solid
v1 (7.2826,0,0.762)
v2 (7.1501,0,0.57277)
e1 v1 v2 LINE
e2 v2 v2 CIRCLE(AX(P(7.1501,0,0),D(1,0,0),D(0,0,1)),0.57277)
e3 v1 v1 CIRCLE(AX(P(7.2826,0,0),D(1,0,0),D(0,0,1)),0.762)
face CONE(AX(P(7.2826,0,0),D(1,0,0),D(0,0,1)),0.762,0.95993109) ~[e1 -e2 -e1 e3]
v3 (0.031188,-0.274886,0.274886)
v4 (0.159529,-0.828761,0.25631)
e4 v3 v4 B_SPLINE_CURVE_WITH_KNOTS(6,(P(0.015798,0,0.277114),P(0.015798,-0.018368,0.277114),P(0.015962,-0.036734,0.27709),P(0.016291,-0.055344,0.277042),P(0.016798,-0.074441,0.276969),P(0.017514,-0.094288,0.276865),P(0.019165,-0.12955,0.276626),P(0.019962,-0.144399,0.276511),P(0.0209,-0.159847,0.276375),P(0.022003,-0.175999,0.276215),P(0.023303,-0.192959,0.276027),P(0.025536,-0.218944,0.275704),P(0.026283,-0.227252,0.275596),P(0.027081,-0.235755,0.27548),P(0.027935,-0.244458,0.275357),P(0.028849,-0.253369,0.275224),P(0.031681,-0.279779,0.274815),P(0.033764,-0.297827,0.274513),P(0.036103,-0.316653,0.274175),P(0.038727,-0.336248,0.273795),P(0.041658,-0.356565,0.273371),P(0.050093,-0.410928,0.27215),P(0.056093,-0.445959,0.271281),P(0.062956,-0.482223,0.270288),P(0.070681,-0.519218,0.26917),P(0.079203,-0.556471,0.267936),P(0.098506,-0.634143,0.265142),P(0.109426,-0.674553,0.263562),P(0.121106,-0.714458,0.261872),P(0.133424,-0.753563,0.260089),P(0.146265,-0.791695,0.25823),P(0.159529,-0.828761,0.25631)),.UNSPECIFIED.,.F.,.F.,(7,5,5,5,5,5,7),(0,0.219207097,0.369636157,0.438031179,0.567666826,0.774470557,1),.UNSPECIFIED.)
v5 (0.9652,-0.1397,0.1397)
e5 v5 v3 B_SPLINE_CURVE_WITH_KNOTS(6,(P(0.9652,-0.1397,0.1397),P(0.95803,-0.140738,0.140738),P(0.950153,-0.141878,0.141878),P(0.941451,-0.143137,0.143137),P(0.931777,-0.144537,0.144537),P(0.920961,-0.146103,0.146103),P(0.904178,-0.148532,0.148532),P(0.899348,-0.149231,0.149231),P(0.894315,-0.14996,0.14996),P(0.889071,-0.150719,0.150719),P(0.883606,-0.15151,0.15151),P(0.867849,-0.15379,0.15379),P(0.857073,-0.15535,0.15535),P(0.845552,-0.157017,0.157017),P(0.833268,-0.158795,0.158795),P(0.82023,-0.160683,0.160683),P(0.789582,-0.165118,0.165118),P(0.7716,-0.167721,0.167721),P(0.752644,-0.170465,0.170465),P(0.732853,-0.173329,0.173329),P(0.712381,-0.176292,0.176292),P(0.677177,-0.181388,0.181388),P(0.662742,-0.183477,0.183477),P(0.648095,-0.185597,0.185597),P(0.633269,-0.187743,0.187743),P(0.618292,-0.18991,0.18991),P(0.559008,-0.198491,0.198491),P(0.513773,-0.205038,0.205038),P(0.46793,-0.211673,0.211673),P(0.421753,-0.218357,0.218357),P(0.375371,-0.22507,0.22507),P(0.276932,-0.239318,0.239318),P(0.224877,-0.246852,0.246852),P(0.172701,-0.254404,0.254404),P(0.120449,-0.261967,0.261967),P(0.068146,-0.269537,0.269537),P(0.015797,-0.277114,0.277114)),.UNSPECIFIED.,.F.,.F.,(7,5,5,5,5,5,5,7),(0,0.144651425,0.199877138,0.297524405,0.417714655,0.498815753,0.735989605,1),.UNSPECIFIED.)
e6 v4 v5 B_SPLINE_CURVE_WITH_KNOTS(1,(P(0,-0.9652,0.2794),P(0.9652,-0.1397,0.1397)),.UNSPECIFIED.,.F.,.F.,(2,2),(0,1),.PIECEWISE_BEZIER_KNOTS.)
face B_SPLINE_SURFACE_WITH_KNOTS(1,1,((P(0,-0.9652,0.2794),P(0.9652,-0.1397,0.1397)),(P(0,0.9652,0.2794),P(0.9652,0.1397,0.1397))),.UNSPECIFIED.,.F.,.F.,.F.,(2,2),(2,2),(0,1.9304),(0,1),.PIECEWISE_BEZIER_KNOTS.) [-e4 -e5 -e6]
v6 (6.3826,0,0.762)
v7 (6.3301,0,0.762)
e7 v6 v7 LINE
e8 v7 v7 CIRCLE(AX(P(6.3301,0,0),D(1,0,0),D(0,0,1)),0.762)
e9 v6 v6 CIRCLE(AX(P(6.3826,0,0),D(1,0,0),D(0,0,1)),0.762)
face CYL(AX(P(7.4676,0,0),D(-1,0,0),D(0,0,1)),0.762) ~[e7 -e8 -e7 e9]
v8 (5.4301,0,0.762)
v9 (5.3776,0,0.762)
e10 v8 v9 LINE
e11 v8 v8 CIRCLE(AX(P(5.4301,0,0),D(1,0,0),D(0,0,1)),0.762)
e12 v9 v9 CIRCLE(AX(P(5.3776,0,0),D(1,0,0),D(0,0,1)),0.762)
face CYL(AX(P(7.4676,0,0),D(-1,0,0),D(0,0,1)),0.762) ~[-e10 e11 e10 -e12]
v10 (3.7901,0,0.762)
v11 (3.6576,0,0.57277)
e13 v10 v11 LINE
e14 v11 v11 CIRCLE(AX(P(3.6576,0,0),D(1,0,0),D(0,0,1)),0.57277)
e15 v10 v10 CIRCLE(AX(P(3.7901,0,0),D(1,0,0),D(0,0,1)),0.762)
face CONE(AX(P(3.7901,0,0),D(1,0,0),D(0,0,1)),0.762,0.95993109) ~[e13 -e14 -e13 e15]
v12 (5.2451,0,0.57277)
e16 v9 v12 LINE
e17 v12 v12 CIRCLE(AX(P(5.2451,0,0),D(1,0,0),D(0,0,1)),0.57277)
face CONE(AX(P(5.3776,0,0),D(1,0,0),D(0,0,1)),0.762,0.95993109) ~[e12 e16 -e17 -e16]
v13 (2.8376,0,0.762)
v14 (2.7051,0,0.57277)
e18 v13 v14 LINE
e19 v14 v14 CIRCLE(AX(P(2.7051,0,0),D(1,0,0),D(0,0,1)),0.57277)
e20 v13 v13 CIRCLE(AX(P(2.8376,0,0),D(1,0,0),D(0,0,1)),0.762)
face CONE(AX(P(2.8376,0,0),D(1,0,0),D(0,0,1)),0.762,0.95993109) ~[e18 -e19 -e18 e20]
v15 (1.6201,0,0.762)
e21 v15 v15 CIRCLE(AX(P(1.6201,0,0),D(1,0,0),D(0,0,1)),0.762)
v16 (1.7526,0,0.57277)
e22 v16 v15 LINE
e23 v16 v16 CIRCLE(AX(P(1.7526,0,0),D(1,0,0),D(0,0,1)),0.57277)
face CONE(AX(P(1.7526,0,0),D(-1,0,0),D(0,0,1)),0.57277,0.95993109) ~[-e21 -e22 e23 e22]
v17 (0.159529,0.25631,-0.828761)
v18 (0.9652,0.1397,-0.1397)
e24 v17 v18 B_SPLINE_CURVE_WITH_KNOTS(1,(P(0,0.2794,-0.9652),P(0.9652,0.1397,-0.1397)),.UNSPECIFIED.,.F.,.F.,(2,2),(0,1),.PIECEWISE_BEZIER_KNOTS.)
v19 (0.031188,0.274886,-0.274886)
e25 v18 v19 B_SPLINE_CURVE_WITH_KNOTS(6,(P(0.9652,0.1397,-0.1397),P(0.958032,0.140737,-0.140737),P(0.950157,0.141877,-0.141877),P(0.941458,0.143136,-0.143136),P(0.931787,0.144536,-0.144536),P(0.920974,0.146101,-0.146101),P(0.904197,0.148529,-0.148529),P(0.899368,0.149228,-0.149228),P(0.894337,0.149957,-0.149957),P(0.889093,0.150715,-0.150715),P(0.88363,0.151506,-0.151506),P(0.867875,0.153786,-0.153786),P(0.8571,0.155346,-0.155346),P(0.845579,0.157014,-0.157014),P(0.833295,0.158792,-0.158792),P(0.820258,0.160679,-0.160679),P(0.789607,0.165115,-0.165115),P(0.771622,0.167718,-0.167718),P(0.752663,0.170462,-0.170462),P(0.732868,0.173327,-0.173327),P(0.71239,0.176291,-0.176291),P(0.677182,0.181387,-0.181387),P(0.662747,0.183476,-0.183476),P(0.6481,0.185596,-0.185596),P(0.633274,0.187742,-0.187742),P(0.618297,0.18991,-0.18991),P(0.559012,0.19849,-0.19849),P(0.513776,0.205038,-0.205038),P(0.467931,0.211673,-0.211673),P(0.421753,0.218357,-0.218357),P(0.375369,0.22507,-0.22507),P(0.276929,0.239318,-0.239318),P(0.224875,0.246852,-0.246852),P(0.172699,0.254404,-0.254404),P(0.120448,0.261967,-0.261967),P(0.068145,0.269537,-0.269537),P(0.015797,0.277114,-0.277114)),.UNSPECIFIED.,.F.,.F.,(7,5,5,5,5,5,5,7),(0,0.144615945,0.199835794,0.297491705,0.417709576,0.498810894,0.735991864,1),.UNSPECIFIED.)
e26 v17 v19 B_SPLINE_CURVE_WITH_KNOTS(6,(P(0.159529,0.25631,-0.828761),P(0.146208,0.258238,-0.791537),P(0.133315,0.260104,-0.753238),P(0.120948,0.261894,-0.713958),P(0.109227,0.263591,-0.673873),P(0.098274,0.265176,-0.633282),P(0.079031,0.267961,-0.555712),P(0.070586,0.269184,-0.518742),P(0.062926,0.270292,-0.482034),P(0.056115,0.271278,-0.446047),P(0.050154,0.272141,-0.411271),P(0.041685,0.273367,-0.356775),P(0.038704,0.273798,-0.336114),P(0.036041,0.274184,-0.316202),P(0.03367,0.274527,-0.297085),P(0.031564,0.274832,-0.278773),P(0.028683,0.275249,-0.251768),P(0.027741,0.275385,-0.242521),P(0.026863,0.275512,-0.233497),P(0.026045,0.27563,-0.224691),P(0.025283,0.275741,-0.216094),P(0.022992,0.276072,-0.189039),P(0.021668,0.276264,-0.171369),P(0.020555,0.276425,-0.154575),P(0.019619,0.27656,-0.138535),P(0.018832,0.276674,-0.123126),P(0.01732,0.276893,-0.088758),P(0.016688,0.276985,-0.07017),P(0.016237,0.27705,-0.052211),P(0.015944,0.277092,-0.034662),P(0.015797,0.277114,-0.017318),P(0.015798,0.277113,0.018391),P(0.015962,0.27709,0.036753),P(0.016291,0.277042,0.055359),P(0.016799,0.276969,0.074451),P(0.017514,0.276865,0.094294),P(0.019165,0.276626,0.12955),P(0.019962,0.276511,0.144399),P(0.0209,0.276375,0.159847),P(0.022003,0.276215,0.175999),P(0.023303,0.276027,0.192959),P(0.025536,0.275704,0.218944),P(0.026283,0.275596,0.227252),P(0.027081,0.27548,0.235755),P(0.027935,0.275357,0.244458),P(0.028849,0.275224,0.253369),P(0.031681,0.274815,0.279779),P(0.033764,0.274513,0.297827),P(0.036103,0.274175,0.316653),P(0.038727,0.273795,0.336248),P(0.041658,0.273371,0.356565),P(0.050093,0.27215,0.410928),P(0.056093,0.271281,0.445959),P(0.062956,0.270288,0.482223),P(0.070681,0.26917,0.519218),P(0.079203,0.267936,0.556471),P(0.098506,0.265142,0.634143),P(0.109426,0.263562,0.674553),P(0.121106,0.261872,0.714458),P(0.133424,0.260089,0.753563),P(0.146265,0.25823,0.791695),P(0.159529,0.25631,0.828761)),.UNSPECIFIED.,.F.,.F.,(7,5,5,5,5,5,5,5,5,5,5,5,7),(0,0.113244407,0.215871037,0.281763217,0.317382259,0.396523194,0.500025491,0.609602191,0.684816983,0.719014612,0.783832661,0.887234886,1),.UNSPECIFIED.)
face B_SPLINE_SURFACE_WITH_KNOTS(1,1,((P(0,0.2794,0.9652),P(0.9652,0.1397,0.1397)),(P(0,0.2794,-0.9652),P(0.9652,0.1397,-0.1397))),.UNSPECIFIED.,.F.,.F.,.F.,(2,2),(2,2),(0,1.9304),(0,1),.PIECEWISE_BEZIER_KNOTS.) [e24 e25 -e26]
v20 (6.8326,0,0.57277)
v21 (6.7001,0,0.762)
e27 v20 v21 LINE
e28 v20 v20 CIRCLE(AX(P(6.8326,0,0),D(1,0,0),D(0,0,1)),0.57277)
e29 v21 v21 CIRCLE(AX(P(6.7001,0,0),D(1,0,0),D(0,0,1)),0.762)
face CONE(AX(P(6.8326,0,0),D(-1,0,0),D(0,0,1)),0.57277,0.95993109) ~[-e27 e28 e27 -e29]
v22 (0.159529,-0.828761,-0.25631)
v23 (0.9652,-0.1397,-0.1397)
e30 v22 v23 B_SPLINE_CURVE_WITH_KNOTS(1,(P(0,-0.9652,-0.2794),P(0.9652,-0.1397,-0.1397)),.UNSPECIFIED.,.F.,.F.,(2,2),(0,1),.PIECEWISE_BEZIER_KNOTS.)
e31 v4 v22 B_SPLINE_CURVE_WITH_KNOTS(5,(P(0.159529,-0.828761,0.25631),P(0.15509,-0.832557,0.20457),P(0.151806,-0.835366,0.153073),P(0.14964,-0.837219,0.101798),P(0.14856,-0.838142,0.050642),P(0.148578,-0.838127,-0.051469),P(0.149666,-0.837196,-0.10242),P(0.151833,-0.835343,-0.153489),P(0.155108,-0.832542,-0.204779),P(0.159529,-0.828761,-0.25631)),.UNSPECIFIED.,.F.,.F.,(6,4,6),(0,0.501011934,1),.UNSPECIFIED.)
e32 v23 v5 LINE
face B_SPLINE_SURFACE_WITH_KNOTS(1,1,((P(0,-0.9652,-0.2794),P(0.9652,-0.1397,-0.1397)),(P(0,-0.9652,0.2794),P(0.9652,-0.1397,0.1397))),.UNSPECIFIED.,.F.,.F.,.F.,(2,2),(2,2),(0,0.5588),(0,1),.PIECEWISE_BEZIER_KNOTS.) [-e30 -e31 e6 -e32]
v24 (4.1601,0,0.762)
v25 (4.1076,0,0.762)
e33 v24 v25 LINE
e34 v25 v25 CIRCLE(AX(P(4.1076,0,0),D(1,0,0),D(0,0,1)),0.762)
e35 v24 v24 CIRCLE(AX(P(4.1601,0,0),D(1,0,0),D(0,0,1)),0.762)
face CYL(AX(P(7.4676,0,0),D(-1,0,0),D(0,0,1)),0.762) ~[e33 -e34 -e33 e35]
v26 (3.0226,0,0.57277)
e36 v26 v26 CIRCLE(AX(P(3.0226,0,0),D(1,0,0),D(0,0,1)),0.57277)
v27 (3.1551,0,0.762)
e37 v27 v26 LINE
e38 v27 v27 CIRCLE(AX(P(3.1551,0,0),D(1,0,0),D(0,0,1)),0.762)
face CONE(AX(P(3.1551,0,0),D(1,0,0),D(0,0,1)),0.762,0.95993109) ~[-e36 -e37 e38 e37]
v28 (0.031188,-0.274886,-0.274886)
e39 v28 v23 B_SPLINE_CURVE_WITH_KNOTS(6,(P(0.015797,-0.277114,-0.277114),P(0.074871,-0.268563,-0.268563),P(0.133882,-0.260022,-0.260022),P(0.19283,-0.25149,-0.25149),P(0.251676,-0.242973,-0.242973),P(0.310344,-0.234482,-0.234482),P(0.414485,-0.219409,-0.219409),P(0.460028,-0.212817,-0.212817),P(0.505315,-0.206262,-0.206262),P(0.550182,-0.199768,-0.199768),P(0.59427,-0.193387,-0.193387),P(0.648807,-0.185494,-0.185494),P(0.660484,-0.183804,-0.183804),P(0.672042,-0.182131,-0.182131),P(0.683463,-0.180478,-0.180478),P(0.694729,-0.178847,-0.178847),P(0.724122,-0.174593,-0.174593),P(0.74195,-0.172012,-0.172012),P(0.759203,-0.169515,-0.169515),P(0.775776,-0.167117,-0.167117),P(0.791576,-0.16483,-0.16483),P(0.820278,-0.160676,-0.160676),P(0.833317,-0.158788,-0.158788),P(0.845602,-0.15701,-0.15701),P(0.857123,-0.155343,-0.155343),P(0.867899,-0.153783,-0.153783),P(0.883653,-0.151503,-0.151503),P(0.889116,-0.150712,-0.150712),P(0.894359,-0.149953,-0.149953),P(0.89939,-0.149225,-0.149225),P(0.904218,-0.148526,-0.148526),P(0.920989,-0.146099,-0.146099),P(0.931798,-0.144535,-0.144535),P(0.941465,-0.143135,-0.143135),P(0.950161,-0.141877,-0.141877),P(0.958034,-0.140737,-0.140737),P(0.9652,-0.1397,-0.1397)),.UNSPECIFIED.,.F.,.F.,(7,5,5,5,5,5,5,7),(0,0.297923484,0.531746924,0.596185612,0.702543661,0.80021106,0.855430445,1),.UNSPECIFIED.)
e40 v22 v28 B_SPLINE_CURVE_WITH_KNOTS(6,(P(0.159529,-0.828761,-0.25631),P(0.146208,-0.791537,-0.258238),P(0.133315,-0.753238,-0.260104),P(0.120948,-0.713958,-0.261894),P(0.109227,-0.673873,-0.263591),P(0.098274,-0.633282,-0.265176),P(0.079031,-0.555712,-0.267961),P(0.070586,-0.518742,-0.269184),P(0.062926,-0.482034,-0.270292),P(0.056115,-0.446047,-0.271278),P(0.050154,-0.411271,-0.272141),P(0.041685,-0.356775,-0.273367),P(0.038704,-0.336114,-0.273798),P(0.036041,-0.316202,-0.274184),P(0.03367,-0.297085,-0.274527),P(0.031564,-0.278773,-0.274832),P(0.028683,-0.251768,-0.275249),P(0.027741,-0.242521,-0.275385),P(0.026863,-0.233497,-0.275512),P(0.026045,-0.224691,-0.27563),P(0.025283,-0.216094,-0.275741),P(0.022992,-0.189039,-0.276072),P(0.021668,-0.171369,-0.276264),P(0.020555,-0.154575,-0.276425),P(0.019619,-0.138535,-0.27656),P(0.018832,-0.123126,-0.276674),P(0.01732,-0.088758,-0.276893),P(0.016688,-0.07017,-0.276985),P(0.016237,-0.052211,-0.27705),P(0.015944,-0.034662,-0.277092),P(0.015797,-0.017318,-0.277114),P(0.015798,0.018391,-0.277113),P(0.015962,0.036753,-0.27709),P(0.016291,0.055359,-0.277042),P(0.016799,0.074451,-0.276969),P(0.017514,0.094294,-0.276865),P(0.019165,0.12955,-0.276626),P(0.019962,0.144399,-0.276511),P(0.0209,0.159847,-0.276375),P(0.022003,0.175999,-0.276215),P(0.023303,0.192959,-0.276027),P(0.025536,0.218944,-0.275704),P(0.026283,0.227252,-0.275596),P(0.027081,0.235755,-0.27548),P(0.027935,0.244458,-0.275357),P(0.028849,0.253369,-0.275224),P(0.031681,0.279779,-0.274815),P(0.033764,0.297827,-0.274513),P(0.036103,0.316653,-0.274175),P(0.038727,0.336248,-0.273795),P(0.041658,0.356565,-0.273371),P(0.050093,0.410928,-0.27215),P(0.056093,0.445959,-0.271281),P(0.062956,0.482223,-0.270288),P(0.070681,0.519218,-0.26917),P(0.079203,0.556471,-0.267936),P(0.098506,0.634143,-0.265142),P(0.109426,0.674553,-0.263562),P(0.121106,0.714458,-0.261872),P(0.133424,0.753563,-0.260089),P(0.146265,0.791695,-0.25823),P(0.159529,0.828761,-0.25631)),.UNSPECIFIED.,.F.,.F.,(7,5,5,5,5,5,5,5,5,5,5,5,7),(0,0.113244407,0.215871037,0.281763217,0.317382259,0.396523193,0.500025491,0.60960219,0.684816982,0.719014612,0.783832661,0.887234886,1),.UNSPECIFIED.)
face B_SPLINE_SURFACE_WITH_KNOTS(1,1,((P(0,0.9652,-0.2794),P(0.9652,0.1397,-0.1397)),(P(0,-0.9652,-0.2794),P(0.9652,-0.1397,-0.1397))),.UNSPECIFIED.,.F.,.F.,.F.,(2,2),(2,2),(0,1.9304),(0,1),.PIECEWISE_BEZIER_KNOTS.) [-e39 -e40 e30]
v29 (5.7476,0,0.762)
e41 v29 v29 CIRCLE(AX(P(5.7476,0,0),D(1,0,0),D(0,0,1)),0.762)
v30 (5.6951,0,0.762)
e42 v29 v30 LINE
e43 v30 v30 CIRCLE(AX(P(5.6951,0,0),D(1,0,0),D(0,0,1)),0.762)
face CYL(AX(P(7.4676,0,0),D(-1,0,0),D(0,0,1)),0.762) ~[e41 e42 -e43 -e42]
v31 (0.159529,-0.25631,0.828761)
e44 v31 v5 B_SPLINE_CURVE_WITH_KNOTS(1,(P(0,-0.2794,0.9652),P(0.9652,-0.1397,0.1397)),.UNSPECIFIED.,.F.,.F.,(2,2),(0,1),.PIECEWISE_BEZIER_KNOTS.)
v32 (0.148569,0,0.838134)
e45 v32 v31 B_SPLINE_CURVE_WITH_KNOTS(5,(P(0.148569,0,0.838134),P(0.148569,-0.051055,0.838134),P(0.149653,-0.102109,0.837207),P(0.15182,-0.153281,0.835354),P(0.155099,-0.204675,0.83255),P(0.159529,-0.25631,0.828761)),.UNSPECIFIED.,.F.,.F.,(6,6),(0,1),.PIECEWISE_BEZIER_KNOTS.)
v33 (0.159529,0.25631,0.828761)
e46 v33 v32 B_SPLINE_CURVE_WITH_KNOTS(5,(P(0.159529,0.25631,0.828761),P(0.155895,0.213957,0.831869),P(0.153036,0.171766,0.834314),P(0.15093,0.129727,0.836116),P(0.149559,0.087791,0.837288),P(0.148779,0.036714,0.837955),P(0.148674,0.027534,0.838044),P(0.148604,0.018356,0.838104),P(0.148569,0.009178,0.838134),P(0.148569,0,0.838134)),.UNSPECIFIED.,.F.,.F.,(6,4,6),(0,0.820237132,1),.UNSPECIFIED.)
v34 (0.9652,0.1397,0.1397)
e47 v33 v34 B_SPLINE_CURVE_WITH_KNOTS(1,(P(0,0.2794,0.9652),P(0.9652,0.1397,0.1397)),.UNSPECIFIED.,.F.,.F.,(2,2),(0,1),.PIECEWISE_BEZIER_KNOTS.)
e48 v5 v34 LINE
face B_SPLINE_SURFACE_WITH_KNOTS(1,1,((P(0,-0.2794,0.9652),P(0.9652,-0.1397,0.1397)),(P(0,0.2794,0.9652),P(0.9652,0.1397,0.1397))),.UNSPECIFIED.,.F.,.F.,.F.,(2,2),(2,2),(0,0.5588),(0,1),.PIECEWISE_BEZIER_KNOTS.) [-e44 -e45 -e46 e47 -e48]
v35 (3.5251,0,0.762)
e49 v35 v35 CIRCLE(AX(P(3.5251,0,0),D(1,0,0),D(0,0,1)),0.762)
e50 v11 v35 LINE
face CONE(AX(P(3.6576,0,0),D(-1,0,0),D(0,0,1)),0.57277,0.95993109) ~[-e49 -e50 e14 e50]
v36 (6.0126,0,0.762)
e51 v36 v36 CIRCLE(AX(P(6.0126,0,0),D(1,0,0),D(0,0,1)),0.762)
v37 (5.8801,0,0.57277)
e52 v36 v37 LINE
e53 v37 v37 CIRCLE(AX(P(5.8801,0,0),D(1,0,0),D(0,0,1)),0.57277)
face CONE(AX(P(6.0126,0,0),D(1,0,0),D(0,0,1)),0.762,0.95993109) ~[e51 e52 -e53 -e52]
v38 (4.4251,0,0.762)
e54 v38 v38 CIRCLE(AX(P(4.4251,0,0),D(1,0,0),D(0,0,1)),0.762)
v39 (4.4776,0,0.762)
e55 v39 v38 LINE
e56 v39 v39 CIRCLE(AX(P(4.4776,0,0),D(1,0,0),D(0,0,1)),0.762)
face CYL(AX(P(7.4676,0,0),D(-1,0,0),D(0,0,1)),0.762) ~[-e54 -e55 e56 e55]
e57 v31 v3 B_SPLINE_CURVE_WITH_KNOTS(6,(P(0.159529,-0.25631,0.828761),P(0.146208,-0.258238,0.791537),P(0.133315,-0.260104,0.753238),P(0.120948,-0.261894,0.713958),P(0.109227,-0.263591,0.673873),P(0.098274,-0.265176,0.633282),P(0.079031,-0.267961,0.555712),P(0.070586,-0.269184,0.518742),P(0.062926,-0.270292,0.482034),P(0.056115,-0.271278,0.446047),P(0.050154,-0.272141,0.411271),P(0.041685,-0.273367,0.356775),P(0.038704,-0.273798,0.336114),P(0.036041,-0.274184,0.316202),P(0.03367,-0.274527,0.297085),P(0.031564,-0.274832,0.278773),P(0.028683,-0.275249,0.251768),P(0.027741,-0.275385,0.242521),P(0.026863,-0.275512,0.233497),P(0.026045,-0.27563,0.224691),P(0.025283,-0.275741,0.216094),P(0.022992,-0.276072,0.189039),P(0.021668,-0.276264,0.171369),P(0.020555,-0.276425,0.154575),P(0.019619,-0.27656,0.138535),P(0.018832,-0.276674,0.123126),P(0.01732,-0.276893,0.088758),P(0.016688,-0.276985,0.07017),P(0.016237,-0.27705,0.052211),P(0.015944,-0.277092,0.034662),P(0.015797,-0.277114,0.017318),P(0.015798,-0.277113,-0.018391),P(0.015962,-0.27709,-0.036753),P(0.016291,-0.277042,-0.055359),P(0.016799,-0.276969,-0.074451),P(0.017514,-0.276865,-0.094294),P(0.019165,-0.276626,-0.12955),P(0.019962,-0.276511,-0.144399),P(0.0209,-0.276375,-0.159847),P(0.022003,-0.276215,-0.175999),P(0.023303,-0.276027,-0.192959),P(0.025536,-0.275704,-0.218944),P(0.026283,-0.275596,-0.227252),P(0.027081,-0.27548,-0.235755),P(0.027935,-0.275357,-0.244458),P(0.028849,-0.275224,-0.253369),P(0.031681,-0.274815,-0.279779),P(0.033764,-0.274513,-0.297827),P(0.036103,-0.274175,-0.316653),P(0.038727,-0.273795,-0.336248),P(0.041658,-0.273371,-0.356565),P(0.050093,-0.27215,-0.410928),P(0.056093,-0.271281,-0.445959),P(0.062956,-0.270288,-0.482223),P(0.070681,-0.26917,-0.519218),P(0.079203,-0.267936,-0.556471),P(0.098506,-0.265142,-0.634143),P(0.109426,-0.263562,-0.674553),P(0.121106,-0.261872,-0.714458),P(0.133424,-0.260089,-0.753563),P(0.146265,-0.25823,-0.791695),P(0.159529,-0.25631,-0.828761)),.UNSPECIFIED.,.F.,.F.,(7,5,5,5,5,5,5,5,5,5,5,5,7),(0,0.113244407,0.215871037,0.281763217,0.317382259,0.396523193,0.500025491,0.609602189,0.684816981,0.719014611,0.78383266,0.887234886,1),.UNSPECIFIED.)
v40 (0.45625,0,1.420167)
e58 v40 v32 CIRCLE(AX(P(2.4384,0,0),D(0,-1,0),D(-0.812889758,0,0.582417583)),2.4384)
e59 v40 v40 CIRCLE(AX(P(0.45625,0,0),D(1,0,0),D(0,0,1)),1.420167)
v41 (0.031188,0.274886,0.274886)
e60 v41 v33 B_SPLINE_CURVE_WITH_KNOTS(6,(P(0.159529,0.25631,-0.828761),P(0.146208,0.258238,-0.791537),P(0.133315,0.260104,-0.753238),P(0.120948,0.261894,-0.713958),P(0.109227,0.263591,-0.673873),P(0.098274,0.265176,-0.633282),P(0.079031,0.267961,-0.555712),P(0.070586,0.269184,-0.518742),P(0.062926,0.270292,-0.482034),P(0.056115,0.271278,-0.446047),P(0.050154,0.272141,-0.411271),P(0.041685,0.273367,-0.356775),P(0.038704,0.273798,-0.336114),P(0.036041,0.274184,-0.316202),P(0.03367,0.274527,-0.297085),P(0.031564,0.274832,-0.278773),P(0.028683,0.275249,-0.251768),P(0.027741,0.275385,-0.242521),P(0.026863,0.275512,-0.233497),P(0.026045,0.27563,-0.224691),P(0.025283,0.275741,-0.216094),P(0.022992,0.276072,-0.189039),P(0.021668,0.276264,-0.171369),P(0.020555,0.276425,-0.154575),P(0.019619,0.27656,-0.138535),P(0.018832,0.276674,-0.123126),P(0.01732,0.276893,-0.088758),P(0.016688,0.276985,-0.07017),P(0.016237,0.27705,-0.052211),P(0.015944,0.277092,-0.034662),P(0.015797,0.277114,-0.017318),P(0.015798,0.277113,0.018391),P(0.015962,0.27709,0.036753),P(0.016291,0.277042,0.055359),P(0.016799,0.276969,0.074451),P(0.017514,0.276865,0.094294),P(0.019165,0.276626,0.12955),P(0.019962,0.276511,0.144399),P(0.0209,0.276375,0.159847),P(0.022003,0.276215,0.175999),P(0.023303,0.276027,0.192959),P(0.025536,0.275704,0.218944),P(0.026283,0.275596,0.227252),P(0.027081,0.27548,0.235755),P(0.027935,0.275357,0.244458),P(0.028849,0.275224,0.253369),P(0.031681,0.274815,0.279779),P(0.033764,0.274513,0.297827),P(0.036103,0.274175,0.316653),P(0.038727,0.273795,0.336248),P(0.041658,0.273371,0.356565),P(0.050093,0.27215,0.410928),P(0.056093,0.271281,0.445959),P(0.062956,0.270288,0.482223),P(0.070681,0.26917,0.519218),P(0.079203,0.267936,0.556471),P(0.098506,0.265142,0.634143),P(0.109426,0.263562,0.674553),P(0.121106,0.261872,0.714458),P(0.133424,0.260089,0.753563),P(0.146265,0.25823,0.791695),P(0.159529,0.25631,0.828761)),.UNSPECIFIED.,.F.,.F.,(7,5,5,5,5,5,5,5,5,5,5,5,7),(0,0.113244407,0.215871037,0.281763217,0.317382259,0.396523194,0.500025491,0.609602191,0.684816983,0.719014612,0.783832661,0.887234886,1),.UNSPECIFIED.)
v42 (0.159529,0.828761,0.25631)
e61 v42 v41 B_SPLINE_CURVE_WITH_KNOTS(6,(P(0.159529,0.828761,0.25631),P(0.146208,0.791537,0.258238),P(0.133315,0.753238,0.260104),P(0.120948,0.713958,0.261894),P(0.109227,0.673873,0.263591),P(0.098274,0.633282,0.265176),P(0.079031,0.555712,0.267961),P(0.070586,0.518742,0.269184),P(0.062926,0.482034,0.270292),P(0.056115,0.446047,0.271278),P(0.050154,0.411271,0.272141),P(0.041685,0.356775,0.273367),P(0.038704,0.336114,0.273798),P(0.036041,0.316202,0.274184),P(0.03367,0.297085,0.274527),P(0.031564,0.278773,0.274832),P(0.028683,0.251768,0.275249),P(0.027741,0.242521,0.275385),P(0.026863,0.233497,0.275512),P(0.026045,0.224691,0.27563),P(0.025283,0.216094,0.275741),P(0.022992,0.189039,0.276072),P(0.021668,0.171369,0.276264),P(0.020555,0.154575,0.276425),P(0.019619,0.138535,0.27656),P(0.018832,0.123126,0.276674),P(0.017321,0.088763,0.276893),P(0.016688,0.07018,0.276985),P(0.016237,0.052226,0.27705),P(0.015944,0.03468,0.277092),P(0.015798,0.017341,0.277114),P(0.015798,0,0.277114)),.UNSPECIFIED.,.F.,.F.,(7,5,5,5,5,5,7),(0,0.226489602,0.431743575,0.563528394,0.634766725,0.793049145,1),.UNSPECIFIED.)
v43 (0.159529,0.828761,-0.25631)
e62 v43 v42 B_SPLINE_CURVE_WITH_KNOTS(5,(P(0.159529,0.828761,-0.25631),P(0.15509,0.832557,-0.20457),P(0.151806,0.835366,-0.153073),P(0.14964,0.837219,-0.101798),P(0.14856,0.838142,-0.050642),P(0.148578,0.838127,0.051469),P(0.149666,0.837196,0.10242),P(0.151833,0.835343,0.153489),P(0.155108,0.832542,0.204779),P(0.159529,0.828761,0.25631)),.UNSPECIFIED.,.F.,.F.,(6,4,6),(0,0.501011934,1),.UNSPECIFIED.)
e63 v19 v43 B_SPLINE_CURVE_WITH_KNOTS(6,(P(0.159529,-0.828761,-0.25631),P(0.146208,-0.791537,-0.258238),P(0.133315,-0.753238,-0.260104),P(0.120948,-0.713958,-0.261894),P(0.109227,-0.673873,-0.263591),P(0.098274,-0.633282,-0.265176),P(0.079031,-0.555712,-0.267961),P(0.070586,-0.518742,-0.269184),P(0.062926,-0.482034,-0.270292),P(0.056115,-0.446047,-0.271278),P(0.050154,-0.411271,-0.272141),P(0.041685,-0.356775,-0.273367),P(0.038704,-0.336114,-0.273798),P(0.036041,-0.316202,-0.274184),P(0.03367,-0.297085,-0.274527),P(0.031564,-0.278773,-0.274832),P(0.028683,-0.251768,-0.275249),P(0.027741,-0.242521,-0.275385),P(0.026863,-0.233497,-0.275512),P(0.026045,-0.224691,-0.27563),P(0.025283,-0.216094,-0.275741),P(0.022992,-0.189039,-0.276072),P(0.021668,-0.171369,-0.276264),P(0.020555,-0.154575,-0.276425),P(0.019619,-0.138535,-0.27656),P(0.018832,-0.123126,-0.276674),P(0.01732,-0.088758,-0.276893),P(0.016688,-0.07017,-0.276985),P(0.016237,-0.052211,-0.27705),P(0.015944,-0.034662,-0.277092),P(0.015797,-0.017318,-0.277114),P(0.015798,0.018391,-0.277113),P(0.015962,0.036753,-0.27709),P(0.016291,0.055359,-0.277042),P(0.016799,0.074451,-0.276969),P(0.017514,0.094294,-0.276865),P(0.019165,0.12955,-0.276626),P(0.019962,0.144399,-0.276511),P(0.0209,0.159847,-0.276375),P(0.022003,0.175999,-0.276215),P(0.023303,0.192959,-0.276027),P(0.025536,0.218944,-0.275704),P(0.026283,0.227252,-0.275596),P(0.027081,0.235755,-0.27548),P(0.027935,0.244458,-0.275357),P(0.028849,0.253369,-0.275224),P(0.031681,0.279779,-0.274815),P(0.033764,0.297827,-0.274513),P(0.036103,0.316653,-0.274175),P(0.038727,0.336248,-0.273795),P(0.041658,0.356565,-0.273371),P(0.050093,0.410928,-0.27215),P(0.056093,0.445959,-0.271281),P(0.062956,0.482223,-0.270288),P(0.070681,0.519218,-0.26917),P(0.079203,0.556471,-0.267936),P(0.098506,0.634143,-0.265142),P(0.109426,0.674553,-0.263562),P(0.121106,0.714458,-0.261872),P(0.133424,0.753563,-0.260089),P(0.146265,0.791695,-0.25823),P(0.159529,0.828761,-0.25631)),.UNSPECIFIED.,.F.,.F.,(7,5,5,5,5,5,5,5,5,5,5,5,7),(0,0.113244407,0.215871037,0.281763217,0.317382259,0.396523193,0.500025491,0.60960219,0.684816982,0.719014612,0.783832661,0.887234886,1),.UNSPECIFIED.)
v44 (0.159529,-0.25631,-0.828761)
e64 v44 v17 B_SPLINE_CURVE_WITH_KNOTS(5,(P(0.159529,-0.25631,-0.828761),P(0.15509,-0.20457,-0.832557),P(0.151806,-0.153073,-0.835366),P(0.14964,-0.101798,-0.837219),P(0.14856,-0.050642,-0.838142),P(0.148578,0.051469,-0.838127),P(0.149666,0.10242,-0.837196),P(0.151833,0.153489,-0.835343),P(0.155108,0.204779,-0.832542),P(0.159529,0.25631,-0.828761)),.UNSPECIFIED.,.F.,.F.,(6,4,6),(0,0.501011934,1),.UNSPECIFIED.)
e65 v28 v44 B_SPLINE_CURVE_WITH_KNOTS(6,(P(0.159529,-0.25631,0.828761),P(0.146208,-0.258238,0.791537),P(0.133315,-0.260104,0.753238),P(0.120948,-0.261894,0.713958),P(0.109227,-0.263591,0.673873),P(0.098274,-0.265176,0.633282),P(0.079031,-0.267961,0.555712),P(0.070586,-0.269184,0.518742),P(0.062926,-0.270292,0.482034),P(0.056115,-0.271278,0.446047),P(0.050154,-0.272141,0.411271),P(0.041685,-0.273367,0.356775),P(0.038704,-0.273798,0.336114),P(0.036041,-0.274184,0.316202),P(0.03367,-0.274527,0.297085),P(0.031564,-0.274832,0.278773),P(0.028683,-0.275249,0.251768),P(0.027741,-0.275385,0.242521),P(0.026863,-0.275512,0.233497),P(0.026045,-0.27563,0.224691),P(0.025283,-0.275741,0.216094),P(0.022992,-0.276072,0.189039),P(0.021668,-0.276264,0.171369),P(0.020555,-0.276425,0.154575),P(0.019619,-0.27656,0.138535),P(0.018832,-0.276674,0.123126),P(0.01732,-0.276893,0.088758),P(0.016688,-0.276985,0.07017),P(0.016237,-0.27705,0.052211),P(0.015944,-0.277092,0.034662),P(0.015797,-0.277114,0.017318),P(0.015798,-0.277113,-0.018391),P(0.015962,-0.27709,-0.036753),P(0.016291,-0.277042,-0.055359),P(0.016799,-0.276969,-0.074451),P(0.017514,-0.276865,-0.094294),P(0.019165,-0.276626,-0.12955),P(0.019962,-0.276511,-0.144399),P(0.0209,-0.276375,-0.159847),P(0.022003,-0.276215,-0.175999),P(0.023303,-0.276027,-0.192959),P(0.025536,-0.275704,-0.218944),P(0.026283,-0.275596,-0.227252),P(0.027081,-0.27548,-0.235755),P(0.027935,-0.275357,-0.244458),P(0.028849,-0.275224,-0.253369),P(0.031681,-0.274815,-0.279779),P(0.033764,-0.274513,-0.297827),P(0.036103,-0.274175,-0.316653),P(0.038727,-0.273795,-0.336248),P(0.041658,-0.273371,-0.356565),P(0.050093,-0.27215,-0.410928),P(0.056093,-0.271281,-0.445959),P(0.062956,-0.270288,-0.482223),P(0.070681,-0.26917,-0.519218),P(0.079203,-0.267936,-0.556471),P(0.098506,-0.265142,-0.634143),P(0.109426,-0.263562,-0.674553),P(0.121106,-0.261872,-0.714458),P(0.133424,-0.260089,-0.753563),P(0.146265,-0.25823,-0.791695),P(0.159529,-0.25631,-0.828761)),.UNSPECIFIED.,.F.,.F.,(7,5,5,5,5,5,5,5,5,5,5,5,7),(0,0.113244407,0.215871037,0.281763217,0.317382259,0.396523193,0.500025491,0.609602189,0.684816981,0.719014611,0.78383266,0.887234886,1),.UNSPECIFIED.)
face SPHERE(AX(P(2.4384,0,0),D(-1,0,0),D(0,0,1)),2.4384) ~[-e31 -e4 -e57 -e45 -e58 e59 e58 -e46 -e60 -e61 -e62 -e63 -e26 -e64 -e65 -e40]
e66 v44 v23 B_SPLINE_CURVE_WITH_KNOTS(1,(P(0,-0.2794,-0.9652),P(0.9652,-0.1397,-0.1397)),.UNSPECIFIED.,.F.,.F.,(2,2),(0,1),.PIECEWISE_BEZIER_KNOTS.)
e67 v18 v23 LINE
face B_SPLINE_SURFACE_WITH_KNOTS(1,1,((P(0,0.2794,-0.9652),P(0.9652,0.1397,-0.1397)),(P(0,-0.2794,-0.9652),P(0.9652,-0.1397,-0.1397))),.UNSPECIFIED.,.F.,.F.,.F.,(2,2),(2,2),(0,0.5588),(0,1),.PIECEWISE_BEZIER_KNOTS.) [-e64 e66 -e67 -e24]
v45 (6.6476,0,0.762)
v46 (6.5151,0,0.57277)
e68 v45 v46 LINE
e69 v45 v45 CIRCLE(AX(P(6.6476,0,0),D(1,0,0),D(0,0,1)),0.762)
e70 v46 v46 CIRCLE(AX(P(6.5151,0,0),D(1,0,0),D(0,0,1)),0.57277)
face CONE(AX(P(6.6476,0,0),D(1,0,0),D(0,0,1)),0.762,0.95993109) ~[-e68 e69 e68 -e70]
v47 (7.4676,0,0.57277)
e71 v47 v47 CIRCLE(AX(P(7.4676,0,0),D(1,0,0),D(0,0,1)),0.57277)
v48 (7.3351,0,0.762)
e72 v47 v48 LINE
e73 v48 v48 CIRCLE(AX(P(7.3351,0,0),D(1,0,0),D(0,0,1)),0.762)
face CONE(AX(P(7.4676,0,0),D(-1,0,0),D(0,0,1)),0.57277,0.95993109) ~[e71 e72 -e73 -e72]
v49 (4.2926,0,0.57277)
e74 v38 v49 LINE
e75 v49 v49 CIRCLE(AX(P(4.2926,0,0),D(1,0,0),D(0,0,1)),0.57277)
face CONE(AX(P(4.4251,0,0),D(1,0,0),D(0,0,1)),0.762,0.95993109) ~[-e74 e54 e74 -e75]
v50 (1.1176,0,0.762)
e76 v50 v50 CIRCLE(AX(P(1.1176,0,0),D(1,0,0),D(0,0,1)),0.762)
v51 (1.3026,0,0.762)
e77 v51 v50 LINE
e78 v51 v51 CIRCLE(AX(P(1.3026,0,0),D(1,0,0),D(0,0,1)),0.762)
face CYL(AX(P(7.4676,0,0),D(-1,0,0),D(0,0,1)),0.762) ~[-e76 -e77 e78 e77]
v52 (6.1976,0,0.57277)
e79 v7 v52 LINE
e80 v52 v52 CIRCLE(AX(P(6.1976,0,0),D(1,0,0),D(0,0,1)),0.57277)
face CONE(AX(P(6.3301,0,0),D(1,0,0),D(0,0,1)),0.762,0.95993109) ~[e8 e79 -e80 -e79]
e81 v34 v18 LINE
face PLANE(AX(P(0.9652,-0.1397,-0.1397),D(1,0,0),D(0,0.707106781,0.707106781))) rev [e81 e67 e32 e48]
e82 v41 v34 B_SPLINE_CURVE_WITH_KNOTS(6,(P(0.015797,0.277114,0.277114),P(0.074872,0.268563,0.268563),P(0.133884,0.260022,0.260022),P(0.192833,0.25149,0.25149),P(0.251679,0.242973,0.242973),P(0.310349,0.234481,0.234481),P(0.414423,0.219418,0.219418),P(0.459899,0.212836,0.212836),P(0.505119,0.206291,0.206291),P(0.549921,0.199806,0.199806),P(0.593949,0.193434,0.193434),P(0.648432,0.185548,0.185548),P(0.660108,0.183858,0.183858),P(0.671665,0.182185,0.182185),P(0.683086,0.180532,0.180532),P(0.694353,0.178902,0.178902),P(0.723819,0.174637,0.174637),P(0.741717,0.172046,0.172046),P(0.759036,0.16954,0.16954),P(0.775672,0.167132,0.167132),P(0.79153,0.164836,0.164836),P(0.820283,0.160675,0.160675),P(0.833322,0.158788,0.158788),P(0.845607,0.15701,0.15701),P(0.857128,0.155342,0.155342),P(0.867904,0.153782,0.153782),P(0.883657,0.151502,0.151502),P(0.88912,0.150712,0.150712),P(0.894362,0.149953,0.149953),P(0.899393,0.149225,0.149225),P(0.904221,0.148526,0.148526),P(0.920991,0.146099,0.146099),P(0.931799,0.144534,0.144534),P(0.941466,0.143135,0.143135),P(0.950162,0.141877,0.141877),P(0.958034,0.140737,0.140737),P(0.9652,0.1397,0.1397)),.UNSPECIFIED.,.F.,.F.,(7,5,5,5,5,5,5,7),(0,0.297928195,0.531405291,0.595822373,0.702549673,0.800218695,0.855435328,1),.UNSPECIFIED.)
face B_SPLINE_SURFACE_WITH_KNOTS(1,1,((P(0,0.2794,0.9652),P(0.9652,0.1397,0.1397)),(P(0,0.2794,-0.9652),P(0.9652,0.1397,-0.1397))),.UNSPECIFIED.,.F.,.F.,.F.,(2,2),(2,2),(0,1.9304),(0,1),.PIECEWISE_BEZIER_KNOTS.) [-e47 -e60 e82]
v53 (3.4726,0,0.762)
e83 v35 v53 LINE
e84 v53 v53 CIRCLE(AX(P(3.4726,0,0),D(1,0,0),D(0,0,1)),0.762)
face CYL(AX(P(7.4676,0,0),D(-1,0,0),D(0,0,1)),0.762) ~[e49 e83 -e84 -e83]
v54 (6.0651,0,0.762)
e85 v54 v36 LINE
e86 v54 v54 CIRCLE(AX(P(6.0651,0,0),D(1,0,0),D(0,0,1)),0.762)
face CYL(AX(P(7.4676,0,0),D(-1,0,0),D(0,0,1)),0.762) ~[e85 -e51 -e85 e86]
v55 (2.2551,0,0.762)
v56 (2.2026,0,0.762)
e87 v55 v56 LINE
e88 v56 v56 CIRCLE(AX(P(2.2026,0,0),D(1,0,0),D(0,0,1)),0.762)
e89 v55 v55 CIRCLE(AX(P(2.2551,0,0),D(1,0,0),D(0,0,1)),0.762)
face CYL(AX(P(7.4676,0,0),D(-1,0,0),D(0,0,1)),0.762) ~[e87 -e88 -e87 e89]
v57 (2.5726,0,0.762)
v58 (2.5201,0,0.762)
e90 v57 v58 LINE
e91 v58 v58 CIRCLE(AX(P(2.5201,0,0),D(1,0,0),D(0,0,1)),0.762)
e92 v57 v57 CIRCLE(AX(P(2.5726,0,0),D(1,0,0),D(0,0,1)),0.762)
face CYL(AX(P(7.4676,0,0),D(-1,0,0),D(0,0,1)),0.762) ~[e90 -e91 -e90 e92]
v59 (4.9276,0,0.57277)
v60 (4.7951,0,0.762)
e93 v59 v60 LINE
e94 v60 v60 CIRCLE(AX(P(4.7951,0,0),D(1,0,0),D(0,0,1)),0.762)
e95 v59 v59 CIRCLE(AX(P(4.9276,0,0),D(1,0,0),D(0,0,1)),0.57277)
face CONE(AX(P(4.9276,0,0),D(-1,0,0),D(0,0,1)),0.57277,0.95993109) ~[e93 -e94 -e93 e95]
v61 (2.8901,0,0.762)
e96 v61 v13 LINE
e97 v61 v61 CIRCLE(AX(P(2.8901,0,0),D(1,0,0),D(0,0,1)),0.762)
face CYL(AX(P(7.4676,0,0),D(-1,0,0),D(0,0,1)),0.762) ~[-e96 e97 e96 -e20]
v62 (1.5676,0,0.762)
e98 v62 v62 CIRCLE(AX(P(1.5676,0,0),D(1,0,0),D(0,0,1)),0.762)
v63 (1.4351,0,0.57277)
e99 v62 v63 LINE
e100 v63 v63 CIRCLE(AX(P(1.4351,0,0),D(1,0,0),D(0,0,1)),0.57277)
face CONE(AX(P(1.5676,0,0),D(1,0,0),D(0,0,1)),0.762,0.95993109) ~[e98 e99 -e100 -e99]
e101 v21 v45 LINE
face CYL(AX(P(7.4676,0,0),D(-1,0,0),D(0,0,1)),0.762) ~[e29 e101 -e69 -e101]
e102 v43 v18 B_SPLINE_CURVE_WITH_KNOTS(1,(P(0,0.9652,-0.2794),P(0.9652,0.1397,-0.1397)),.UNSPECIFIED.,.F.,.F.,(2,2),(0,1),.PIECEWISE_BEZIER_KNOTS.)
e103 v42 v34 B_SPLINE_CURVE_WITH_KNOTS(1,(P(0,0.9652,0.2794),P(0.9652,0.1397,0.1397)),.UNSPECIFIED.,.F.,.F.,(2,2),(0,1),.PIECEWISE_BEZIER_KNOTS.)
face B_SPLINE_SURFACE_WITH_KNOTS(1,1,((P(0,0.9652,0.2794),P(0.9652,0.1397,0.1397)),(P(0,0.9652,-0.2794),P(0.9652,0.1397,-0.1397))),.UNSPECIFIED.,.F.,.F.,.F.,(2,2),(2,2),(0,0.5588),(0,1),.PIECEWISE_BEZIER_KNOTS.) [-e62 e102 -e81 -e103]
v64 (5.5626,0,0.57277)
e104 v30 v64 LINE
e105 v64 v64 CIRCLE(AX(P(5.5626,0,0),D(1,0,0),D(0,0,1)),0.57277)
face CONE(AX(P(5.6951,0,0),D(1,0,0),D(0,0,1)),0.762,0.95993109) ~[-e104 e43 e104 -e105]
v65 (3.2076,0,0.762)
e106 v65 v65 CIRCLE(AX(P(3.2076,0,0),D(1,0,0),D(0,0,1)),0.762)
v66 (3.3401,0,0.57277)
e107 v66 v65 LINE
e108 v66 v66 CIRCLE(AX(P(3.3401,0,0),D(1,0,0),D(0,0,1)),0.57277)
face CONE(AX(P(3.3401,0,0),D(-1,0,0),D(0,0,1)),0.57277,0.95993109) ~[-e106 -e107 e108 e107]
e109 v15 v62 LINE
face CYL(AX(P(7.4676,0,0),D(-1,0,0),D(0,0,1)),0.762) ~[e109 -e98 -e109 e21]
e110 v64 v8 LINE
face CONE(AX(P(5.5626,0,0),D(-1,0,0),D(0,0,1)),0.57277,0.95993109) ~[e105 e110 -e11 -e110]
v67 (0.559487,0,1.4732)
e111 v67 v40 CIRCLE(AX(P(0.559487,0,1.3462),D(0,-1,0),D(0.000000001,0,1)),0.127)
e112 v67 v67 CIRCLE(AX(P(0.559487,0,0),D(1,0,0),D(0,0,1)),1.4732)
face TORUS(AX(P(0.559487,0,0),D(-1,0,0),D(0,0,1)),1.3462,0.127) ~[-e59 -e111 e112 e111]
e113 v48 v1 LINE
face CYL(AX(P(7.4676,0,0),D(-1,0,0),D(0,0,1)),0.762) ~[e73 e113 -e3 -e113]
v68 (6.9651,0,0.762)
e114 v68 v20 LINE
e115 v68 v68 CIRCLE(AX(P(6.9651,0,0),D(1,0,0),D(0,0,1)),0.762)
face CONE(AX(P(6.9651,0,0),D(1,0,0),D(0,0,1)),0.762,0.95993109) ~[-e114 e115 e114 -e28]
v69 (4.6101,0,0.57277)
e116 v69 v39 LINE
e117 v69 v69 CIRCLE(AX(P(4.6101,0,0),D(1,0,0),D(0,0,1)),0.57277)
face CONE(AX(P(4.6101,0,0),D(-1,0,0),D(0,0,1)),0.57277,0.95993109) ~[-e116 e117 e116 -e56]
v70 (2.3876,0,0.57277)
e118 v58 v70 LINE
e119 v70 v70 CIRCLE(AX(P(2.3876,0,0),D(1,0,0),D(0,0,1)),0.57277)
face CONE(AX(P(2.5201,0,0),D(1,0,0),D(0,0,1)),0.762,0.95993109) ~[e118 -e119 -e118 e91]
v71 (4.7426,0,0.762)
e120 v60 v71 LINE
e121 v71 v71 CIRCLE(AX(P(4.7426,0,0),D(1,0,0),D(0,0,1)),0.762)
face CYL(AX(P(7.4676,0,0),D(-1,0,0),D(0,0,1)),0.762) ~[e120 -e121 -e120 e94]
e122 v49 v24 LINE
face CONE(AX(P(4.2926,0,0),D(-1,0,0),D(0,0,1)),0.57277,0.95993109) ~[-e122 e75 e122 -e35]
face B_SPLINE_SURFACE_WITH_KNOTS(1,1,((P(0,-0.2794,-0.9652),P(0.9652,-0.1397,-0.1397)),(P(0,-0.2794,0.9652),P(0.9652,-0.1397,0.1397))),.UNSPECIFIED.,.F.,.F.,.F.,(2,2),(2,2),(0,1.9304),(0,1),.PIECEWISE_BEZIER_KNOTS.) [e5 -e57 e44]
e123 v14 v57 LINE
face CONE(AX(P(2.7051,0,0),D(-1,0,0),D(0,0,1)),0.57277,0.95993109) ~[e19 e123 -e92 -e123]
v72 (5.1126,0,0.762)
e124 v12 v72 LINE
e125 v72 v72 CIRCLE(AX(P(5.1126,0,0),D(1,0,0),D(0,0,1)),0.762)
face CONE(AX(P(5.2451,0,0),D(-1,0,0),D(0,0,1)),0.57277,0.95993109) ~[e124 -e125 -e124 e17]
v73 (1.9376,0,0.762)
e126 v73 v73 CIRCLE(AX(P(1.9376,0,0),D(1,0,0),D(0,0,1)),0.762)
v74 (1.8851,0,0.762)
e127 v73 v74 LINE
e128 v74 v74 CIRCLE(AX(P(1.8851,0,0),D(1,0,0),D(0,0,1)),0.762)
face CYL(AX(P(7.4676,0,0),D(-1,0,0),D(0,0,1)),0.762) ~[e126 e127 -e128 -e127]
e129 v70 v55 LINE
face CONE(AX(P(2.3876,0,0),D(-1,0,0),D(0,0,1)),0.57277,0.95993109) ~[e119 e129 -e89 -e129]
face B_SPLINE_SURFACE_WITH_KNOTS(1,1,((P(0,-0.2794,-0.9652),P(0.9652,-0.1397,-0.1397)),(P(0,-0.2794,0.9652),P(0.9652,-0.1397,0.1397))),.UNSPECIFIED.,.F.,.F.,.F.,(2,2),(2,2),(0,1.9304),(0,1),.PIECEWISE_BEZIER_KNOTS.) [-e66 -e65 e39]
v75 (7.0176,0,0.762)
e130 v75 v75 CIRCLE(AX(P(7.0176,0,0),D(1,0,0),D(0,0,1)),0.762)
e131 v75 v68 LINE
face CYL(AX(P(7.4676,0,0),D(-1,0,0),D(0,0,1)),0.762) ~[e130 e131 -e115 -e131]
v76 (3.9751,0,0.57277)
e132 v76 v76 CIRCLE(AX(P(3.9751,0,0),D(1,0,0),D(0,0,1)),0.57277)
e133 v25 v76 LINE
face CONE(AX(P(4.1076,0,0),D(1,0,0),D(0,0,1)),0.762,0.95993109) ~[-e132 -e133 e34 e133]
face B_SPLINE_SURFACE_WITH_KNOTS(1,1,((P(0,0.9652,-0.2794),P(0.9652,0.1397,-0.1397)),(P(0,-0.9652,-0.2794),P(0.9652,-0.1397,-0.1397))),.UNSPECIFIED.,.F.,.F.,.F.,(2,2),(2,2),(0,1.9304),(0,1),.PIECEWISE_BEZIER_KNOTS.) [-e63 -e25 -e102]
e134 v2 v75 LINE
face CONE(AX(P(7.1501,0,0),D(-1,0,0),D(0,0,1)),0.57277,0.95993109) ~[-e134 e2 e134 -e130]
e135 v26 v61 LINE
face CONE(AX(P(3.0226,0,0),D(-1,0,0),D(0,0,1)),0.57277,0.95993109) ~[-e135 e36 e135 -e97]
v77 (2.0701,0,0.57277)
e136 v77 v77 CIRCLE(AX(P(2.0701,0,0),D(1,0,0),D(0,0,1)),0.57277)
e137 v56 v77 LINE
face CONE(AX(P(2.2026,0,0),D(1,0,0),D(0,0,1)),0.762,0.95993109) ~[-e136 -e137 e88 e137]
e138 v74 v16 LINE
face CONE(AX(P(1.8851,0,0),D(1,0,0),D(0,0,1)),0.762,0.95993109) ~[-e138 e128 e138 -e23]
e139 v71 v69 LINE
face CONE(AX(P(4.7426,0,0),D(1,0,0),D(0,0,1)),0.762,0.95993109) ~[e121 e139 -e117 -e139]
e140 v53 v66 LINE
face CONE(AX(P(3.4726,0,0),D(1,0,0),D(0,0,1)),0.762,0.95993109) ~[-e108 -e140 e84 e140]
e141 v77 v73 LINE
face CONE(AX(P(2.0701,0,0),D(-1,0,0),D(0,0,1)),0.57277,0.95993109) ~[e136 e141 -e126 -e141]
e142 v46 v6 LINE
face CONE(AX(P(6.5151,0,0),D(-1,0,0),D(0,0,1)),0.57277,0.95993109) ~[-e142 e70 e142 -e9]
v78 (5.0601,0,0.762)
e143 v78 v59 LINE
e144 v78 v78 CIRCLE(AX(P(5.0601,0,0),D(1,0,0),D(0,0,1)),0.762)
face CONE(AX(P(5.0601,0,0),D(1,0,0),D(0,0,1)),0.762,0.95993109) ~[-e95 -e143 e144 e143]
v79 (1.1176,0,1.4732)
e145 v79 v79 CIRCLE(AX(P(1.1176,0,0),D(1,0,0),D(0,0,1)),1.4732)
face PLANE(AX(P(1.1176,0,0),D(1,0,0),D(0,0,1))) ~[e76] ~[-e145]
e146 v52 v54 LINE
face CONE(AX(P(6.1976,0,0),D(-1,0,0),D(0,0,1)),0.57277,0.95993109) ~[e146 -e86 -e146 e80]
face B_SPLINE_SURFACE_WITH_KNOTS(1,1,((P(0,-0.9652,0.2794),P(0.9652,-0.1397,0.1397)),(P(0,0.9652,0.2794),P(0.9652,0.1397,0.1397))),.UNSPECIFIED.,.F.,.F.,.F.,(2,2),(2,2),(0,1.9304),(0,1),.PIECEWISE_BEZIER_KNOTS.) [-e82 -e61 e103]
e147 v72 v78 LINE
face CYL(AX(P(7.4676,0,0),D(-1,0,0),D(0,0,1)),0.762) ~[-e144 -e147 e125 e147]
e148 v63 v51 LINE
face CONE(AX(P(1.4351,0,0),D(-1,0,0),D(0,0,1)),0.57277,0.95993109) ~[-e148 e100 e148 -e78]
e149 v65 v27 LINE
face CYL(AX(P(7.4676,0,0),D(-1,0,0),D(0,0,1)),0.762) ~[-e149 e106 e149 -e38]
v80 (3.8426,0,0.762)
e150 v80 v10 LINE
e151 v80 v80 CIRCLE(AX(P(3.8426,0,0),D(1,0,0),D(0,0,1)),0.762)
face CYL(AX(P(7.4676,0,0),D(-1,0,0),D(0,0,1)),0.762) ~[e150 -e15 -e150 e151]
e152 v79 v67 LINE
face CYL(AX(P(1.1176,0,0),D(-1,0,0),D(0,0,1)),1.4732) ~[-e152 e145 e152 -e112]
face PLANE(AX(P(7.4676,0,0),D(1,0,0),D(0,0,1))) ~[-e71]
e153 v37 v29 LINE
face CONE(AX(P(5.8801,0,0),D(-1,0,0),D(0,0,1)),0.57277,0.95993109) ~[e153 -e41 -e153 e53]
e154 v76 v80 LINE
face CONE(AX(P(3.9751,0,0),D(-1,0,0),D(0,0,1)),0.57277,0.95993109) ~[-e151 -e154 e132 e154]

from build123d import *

# Parameters (mm, degrees)
CIRPATTERN1_COUNT = 2
CIRPATTERN1_ANGLE = 90
THDSCHPAT_COUNT   = 20
THDSCHPAT_PITCH   = 0.3175


with BuildPart() as part:
    # BodySke → Base-Revolve (revolve)
    with BuildSketch(Plane.XY, mode=Mode.PRIVATE) as base_revolve_sk:
        with BuildLine():
            Line((1.1176, 0.762), (1.1176, 1.4732))
            Line((1.1176, 1.4732), (0.559486612, 1.4732))
            ThreePointArc((0.559486612, 1.4732), (0.501455643, 1.459166396), (0.456249613, 1.420167033))
            ThreePointArc((0.456249613, 1.420167033), (0.116862787, 0.745828082), (0, 0))
            Line((0, 0), (7.4676, 0))
            Line((7.4676, 0), (7.4676, 0.762))
            Line((7.4676, 0.762), (1.1176, 0.762))
        make_face()
    revolve(base_revolve_sk.sketch.rotate(Axis((-25.4, 0, 0), (1, 0, 0)), 90), axis=Axis((-25.4, 0, 0), (1, 0, 0)))

    # Sketch3 → Cut-Loft1 section 0
    with BuildSketch(Plane(origin=(0, 0, 0), x_dir=(0, 0, -1), z_dir=(1, 0, 0))):
        with BuildLine():
            Line((0.2794, -0.9652), (-0.2794, -0.9652))
            Line((-0.2794, -0.9652), (-0.2794, 0.9652))
            Line((-0.2794, 0.9652), (0.2794, 0.9652))
            Line((0.2794, 0.9652), (0.2794, -0.9652))
        make_face()
    # Sketch4 → Cut-Loft1 section 1
    with BuildSketch(Plane(origin=(0.9652, 0, 0), x_dir=(0, 0, -1), z_dir=(1, 0, 0))):
        with BuildLine():
            Line((0.1397, -0.1397), (-0.1397, -0.1397))
            Line((-0.1397, -0.1397), (-0.1397, 0.1397))
            Line((-0.1397, 0.1397), (0.1397, 0.1397))
            Line((0.1397, 0.1397), (0.1397, -0.1397))
        make_face()
    cut_loft1 = loft(mode=Mode.SUBTRACT)

    # CirPattern1: Cut-Loft1 ×2 about axis
    cirpattern1_axis = Axis((0, 0, 0), (1, 0, 0))
    for i in range(1, CIRPATTERN1_COUNT):
        add(cut_loft1.rotate(cirpattern1_axis, i * CIRPATTERN1_ANGLE / (CIRPATTERN1_COUNT - 1)), mode=Mode.SUBTRACT)

    # ThdSchSke → ThreadSchematic (revolve, cut)
    with BuildSketch(Plane.XY, mode=Mode.PRIVATE) as threadschematic_sk:
        Polygon((1.4351, -0.57277), (1.302599728, -0.762), (1.302599728, -0.9525), (1.567600272, -0.9525), (1.567600272, -0.762), align=None)
    threadschematic = revolve(threadschematic_sk.sketch.rotate(Axis((-3.175, 0, 0), (1, 0, 0)), 270), axis=Axis((-3.175, 0, 0), (1, 0, 0)), mode=Mode.SUBTRACT)

    # ThdSchPat: ThreadSchematic ×20
    with Locations(*[(i * THDSCHPAT_PITCH, 0, 0) for i in range(1, THDSCHPAT_COUNT)]):
        add(threadschematic, mode=Mode.SUBTRACT)


solid = part.part
